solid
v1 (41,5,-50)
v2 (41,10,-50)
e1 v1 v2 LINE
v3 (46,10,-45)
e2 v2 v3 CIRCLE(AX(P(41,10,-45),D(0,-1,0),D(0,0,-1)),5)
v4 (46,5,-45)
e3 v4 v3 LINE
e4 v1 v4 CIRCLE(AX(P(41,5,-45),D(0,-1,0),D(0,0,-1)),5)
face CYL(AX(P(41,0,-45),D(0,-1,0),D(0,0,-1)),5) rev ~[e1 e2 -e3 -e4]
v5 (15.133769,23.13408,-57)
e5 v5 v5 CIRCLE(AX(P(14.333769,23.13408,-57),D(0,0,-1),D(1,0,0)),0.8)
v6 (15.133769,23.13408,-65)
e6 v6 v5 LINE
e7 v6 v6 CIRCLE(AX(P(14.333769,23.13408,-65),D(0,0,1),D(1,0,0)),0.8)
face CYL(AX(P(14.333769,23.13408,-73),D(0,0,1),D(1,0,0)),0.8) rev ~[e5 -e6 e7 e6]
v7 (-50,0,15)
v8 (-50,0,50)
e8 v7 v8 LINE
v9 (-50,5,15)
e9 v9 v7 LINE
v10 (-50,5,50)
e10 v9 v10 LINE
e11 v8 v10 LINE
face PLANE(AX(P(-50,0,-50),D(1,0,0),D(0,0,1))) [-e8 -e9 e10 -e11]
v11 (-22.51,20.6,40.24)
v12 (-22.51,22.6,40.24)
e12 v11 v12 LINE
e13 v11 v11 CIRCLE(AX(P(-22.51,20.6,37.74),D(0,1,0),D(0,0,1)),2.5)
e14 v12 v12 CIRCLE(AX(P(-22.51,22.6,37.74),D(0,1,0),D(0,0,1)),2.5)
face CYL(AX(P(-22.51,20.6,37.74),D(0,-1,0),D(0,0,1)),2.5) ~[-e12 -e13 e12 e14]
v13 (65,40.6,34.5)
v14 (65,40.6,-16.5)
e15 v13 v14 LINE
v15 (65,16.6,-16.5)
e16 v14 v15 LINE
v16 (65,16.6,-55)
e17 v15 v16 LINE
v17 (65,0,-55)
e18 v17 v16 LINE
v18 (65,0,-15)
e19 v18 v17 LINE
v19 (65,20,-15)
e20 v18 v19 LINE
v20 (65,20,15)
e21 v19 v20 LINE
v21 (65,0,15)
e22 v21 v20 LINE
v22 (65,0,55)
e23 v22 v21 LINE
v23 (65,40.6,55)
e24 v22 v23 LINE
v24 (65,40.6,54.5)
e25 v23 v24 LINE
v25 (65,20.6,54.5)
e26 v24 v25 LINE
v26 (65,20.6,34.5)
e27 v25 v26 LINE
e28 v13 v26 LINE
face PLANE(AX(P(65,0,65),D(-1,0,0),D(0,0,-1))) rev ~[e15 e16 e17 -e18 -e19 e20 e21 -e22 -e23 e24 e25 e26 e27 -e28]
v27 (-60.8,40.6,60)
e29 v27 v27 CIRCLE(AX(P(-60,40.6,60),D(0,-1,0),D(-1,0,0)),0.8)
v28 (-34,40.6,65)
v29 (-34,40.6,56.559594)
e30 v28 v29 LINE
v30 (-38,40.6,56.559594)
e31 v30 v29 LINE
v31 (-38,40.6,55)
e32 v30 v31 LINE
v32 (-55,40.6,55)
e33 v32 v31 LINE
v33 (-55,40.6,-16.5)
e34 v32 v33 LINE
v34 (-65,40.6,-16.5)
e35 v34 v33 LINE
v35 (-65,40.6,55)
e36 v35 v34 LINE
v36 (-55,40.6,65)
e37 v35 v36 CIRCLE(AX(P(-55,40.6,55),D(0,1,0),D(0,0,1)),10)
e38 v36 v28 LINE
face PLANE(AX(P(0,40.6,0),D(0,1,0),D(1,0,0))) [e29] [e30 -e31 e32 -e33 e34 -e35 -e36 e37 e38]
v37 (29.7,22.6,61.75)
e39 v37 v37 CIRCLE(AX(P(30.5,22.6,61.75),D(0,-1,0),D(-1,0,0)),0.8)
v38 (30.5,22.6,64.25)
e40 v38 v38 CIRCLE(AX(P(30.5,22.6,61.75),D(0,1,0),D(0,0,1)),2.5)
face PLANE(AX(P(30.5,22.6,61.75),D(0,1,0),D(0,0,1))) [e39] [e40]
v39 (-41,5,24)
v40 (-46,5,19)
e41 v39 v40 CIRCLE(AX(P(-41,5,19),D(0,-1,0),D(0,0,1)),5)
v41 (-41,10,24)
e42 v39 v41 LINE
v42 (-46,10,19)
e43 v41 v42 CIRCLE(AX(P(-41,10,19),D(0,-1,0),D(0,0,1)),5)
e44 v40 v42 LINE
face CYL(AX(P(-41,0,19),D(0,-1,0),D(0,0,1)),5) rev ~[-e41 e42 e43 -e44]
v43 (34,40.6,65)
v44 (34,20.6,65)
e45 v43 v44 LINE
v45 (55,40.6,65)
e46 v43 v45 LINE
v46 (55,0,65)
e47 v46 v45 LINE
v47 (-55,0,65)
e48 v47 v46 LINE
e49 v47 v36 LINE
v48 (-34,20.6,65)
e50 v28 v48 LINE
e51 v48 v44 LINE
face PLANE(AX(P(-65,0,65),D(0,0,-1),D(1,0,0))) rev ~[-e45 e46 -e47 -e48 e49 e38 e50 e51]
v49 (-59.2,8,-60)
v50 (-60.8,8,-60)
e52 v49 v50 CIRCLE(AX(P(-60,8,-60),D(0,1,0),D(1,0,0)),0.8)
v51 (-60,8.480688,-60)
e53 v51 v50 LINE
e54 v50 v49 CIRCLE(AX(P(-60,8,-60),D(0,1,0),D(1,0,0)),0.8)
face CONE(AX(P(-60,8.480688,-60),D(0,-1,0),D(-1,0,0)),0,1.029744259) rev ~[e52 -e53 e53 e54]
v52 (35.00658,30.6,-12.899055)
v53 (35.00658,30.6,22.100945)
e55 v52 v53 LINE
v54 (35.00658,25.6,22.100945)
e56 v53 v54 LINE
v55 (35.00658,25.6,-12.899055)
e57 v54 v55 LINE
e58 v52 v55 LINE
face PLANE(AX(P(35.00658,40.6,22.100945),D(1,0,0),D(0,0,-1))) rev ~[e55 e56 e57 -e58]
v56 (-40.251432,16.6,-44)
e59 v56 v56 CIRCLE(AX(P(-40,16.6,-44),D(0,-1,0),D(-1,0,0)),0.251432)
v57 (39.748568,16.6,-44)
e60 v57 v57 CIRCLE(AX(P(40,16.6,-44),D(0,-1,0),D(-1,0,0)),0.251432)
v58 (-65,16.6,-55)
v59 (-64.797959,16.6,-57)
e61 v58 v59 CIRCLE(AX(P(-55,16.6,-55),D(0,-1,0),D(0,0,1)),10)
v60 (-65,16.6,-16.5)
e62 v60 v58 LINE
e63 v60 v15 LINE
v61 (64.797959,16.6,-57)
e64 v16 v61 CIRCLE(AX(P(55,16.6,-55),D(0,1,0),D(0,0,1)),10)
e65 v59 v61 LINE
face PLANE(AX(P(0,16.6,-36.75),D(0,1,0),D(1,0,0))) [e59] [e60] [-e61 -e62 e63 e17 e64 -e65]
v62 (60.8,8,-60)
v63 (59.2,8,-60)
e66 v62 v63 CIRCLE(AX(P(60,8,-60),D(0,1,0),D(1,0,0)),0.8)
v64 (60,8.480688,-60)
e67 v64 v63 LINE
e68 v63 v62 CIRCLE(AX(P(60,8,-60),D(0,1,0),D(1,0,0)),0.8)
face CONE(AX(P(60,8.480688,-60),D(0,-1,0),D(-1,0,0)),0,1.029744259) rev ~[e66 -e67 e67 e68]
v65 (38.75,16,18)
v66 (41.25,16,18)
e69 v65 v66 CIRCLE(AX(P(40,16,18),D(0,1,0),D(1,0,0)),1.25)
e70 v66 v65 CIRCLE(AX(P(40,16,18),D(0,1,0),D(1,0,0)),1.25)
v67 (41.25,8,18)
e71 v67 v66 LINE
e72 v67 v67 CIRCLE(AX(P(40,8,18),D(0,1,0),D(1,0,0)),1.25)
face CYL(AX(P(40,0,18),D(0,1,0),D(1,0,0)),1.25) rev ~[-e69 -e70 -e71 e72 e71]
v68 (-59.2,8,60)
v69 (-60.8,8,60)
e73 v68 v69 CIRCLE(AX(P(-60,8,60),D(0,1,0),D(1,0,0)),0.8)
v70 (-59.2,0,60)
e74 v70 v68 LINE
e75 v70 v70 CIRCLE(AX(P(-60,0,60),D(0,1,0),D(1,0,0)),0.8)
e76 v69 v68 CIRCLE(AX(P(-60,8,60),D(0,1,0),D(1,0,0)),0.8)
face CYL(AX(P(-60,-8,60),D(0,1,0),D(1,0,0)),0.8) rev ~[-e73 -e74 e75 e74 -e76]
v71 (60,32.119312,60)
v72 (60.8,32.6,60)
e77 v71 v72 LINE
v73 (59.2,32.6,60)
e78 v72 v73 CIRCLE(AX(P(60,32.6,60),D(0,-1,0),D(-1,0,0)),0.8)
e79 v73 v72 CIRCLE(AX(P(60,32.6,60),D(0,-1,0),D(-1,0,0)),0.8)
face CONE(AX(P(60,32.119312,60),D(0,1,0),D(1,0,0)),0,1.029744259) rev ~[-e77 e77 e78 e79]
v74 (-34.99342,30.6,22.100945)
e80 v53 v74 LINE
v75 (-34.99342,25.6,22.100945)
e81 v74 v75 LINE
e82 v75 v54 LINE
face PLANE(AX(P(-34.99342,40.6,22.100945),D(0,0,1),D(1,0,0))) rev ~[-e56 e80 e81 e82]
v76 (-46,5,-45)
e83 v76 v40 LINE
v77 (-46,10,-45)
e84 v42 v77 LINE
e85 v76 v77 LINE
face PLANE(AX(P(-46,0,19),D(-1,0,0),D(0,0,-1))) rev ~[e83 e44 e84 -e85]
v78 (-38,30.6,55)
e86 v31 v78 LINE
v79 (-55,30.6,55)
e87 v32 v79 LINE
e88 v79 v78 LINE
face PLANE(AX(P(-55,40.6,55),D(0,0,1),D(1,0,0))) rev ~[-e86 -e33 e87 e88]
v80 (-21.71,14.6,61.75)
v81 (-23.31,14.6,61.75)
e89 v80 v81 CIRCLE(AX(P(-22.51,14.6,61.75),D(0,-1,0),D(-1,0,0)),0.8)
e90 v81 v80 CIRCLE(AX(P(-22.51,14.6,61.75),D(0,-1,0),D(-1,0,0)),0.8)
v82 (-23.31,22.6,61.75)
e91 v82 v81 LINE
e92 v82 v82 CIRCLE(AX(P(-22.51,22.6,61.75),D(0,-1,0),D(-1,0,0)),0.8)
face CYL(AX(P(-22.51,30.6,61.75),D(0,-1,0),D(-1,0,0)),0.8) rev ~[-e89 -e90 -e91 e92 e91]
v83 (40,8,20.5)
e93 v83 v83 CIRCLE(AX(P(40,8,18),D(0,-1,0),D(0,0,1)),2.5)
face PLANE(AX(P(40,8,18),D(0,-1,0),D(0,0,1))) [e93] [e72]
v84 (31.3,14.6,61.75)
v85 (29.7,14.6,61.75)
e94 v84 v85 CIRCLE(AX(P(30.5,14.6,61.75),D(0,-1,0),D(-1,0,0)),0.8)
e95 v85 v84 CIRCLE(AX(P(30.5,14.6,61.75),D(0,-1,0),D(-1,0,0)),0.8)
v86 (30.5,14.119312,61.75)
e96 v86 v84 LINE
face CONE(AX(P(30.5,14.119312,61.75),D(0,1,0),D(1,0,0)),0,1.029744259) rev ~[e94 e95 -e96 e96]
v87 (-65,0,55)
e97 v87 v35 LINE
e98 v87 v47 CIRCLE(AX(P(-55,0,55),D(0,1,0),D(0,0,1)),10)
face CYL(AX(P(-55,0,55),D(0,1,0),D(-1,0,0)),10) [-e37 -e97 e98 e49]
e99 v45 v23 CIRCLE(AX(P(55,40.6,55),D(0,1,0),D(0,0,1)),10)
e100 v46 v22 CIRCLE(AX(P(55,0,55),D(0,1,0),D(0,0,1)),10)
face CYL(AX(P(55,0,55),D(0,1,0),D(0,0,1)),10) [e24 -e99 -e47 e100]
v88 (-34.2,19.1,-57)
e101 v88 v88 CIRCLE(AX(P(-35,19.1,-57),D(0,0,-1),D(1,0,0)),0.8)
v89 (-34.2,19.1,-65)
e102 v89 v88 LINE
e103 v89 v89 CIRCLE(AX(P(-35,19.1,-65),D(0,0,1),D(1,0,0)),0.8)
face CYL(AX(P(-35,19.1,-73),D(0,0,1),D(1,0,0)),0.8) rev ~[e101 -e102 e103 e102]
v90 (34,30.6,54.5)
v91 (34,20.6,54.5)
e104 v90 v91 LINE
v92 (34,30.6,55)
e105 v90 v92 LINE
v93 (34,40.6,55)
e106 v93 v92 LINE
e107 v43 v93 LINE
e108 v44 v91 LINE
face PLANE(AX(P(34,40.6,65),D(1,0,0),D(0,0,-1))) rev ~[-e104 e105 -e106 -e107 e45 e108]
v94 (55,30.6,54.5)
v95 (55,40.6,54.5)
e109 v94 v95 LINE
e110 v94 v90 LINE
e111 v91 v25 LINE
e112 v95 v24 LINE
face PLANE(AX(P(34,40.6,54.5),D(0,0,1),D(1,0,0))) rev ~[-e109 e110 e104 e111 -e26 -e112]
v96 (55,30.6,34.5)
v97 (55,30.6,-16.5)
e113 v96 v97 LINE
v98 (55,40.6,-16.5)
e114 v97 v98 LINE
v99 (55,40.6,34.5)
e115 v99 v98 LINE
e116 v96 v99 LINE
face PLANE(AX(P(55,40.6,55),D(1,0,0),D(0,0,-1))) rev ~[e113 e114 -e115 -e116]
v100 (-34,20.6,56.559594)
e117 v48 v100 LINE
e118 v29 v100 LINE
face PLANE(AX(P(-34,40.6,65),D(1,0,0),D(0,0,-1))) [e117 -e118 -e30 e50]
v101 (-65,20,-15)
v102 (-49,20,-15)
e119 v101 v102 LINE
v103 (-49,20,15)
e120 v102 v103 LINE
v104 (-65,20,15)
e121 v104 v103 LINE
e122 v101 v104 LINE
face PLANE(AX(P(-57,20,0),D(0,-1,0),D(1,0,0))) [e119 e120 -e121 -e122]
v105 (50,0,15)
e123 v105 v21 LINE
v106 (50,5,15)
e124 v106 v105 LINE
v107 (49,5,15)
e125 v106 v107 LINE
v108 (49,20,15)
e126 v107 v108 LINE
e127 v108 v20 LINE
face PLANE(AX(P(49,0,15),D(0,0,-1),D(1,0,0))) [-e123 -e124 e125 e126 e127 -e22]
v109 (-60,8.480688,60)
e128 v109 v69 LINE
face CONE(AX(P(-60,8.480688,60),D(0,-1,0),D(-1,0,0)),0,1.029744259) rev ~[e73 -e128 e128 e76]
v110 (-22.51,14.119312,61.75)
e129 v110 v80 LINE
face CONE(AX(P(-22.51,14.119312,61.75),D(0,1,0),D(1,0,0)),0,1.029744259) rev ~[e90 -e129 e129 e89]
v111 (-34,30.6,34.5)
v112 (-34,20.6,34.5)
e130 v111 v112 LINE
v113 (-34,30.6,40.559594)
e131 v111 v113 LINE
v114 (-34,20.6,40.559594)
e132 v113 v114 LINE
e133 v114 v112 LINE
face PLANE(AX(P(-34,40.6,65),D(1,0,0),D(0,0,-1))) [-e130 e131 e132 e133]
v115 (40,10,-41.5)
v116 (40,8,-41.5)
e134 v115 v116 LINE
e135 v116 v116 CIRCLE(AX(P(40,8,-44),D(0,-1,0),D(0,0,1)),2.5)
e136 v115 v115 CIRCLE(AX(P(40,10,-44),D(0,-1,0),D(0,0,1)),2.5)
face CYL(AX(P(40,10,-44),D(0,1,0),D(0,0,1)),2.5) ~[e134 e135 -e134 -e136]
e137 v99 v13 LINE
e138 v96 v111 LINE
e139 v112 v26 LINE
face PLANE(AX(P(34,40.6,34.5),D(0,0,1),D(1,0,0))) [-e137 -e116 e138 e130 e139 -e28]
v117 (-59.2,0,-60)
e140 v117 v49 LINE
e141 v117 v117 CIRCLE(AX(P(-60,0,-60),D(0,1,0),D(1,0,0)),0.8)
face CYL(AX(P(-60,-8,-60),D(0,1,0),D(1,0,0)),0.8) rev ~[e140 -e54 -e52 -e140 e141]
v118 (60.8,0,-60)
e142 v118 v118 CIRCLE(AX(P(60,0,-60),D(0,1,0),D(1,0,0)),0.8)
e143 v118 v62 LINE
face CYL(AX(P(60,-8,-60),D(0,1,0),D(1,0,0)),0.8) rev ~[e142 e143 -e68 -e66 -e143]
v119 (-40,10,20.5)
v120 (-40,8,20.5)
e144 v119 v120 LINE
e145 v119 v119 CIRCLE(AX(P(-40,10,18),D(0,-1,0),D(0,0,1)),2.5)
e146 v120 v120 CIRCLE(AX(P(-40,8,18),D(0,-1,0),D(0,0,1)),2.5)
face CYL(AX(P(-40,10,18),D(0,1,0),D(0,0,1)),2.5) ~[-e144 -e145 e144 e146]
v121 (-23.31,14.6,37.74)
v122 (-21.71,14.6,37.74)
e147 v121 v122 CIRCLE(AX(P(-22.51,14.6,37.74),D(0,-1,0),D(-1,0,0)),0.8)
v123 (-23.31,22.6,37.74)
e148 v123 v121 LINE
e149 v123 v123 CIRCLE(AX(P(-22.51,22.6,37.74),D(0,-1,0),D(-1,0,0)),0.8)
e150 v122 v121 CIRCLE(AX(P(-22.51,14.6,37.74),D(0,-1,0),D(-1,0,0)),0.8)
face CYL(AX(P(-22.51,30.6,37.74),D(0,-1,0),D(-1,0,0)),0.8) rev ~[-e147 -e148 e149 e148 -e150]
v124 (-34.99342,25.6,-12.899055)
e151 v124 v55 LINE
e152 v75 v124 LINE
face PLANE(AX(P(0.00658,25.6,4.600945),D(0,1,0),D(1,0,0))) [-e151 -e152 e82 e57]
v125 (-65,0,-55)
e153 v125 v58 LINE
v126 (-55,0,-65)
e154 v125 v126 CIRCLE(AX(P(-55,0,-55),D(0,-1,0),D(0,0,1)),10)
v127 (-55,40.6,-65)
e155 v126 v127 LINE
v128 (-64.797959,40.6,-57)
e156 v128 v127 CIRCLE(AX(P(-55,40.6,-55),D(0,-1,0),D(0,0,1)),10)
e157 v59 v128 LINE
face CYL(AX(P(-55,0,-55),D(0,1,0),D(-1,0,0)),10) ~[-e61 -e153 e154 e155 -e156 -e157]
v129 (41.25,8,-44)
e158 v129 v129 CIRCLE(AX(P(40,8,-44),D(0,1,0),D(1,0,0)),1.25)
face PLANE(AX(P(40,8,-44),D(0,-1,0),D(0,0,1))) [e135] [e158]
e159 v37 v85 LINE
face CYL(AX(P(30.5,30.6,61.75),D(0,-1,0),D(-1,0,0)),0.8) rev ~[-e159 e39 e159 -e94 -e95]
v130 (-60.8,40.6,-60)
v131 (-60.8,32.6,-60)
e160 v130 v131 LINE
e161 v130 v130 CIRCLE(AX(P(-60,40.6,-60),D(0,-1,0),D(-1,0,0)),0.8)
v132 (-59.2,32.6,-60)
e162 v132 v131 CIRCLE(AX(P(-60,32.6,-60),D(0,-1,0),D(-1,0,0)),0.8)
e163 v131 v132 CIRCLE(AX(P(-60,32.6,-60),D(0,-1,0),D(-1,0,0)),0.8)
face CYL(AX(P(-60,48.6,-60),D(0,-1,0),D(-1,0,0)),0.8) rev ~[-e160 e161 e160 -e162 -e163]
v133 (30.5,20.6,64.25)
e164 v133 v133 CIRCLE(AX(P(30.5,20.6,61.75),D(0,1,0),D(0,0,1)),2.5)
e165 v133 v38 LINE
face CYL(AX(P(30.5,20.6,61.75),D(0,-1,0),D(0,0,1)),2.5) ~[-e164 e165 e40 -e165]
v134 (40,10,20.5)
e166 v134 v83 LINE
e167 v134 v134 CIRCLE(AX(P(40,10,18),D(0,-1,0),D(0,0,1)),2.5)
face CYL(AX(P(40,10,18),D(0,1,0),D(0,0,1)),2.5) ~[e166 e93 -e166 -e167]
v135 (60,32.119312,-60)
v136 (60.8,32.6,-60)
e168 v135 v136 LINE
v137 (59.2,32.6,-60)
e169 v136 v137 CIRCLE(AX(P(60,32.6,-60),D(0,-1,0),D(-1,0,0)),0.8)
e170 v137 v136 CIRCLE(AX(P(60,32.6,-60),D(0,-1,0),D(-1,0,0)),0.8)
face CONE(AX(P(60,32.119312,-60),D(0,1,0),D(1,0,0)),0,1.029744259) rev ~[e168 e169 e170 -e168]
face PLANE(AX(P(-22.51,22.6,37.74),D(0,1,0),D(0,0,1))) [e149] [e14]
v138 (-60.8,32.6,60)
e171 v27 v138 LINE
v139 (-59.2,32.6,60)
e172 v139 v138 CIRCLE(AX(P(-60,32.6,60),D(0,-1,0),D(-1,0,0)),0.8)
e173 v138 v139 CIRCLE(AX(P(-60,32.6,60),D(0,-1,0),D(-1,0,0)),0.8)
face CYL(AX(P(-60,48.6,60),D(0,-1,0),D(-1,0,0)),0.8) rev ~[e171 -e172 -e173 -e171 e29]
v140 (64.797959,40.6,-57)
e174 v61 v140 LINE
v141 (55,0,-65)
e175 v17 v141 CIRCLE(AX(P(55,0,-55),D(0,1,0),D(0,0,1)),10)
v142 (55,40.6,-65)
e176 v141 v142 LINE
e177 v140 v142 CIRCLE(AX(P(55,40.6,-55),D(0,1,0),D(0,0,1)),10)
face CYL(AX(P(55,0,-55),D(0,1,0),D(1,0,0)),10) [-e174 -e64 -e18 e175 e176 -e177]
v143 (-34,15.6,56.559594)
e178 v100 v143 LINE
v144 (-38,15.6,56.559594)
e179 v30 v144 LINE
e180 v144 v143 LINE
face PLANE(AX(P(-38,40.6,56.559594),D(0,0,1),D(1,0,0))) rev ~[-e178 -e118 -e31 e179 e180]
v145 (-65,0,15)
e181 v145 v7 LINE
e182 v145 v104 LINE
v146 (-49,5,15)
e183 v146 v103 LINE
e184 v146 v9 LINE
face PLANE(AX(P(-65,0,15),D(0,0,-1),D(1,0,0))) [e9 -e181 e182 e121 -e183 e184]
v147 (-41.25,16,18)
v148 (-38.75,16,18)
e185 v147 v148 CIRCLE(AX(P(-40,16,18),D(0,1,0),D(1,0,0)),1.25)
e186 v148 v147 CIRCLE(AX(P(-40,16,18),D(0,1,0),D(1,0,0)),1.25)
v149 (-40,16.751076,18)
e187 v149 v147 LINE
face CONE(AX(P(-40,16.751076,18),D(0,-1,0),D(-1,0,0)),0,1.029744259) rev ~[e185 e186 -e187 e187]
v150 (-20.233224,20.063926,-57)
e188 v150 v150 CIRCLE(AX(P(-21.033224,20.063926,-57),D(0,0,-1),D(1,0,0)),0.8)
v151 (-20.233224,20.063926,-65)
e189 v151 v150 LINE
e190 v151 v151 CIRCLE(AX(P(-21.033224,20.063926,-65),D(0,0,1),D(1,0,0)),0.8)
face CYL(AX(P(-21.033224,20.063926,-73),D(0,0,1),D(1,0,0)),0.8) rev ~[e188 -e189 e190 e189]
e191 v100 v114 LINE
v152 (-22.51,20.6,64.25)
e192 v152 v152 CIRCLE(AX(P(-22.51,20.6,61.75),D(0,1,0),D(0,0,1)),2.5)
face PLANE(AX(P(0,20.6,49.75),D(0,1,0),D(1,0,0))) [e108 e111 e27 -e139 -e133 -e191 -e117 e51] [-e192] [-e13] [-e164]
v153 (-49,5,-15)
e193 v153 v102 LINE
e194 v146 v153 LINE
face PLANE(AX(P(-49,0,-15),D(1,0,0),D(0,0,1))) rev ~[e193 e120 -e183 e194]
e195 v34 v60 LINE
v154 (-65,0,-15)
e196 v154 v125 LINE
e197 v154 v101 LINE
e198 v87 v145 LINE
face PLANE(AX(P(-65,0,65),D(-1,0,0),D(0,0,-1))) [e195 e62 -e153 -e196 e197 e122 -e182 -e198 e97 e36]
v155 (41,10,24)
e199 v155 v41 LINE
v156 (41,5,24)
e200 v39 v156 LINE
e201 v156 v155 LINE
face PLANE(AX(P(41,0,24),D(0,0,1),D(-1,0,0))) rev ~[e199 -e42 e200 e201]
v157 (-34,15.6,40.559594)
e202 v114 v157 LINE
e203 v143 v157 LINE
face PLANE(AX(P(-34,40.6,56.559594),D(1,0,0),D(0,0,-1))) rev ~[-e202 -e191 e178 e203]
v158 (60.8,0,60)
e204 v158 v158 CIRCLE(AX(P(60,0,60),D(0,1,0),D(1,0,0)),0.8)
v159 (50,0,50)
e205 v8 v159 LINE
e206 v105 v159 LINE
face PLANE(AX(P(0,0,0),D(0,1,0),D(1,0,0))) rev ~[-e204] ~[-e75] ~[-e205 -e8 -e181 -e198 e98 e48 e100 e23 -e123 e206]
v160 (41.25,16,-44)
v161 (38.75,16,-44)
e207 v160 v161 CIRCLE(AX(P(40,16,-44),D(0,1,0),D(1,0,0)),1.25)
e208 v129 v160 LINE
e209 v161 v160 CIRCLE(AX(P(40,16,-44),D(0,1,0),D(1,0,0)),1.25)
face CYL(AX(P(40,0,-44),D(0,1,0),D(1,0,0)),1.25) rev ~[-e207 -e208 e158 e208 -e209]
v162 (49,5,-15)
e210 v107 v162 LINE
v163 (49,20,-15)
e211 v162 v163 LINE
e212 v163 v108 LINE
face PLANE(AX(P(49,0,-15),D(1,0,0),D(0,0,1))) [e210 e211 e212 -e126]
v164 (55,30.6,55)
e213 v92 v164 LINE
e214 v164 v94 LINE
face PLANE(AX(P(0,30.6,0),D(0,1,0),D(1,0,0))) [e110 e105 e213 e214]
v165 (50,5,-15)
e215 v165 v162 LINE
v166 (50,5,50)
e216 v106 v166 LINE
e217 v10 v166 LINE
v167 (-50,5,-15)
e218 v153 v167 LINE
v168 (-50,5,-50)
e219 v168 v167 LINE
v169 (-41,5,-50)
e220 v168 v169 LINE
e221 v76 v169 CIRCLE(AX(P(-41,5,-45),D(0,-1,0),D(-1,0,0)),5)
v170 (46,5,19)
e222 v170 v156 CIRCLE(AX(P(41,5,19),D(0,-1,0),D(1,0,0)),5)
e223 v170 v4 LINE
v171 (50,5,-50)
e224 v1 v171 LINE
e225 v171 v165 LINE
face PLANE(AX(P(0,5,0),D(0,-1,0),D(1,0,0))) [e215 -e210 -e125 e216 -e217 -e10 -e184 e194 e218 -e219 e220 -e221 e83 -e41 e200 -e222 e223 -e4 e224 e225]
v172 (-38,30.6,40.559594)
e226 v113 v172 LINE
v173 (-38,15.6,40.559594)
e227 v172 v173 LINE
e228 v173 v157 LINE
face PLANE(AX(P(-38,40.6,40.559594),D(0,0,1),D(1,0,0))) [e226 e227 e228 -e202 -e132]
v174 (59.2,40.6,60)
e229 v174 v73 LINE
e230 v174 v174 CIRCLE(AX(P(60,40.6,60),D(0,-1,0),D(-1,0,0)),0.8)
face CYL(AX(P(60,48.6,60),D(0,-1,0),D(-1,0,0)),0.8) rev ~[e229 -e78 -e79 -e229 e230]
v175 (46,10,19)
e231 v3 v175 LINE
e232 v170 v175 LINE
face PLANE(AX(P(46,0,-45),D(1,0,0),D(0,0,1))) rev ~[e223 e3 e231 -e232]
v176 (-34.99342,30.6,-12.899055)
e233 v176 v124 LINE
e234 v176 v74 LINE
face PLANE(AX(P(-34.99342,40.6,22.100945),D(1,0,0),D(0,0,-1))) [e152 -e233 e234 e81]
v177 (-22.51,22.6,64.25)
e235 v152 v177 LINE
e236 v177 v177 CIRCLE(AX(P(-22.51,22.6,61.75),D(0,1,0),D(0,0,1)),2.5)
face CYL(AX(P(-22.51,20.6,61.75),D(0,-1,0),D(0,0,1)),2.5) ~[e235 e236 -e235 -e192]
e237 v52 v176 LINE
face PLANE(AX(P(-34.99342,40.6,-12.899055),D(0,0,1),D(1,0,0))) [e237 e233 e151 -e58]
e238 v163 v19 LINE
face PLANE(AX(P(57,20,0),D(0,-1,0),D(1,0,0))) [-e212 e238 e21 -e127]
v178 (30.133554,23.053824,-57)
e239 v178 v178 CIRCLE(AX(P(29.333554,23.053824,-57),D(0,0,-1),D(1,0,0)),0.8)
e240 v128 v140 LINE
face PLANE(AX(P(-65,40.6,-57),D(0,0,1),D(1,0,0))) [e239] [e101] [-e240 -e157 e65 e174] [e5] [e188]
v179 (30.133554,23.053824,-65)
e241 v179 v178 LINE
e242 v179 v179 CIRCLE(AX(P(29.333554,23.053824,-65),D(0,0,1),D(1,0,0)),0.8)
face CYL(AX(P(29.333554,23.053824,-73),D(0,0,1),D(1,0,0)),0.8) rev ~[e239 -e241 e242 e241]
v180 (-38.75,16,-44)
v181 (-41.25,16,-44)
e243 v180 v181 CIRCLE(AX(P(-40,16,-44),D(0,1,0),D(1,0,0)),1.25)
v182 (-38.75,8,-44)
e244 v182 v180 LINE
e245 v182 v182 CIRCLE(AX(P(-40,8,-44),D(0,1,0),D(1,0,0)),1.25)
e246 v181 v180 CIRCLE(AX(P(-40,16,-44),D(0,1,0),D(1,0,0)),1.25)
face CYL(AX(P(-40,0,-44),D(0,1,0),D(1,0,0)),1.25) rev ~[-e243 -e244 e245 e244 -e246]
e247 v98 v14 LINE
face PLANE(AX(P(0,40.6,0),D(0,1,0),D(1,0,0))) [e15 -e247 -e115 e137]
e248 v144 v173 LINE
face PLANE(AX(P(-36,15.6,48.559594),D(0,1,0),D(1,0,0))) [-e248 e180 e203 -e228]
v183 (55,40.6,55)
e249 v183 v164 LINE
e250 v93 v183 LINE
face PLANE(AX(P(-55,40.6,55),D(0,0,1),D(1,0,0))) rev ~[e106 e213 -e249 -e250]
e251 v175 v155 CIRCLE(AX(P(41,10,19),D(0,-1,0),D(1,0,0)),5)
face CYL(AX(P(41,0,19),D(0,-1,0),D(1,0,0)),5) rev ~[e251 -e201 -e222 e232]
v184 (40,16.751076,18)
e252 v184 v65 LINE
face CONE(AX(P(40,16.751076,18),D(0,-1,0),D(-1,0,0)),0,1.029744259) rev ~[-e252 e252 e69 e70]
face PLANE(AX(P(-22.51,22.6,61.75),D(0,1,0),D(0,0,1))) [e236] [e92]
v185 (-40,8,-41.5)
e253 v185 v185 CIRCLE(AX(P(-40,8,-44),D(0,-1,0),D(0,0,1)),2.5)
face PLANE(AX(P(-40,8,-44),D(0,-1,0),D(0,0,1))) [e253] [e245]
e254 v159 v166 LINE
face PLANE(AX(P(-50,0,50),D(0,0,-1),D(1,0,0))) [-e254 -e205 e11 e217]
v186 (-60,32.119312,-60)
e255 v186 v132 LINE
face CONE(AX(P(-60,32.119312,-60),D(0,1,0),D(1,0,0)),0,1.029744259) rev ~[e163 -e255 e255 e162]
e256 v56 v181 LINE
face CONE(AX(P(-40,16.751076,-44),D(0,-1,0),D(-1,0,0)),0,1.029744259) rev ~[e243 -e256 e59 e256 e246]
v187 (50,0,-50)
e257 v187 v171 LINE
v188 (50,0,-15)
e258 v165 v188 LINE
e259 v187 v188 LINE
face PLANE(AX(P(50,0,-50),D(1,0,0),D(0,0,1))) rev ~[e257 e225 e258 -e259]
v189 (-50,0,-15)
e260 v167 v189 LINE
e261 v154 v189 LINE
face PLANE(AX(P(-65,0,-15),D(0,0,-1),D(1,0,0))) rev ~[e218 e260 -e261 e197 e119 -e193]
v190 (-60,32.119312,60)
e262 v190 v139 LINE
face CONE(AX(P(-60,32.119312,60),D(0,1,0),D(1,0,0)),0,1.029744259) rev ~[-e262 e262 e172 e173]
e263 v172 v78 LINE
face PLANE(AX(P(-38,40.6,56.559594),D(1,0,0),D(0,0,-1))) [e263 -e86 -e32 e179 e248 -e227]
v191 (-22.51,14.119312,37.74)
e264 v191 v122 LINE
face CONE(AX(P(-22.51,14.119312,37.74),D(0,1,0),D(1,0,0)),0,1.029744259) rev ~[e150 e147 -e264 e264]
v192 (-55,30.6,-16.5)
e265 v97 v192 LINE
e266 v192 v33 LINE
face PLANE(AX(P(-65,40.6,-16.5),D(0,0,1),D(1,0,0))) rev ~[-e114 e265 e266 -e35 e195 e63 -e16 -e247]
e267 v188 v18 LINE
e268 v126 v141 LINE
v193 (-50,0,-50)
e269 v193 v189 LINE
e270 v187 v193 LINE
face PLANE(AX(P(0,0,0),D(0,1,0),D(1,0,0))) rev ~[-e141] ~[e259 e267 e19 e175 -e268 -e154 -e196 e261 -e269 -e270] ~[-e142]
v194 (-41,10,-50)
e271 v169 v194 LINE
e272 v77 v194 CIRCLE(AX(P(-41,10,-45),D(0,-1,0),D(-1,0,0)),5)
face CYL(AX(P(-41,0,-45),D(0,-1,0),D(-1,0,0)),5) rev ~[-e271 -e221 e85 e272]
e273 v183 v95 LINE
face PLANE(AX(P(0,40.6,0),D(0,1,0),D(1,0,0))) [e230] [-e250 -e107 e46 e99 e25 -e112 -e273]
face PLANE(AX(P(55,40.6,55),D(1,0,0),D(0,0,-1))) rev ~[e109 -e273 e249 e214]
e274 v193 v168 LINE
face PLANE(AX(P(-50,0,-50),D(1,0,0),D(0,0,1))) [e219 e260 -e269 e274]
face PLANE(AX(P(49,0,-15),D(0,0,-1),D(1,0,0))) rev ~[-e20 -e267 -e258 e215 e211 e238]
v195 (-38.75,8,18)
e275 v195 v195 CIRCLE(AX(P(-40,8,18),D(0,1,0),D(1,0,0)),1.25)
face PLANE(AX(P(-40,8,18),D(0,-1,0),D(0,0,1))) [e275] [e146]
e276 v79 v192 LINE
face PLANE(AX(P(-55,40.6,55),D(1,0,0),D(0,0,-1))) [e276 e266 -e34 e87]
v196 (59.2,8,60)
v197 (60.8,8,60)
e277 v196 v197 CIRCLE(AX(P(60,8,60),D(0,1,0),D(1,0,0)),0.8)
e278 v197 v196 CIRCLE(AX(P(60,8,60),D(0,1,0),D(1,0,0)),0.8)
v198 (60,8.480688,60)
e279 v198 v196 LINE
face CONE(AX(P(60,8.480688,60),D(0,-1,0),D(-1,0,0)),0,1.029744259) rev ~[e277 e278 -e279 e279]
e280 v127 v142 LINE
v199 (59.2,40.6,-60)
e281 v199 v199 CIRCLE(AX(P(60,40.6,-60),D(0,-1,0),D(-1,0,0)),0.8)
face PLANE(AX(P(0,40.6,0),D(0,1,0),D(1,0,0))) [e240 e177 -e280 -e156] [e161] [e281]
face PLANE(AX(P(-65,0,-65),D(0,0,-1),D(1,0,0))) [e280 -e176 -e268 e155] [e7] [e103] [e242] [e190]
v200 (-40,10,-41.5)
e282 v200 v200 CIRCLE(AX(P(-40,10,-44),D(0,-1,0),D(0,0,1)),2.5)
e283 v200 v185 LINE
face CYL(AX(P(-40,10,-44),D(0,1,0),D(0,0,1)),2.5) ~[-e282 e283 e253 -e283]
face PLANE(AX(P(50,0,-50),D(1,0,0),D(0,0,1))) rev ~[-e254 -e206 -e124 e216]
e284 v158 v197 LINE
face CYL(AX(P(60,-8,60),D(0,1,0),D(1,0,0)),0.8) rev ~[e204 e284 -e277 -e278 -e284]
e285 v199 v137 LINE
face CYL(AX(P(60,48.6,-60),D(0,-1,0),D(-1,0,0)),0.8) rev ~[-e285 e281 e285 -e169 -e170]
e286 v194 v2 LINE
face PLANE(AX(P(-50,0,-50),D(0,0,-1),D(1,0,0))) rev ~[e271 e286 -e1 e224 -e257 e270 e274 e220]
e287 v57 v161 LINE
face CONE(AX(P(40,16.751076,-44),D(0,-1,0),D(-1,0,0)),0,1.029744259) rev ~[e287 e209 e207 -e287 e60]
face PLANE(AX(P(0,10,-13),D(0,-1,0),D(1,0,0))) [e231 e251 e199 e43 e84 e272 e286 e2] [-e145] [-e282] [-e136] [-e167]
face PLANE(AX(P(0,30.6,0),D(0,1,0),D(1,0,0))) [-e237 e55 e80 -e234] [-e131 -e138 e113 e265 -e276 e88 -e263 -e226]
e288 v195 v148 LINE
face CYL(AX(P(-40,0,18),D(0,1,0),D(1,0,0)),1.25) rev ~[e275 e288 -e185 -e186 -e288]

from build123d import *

# Parameters (mm, degrees)
SKETCH_1_W             = 130
SKETCH_1_H             = 130
EXTRUDE_1_DEPTH        = 40.6
SKETCH_2_W             = 130
SKETCH_2_H             = 40.5
CUT_EXTRUDE_1_DEPTH    = 24
SKETCH_7_W             = 16
SKETCH_7_H             = 30
CUT_EXTRUDE_5_DEPTH    = 20
CUT_EXTRUDE_8_DEPTH    = 10
HOLE_WIZARD_M2_1_D     = 1.6
HOLE_WIZARD_M2_1_DEPTH = 8
HOLE_WIZARD_M2_1_TIP   = 0.480688495
SKETCH_15_W            = 100
SKETCH_15_H            = 100
CUT_EXTRUDE_9_DEPTH    = 5
FILLET_1_R             = 10
HOLE_WIZARD_M2_3_D     = 1.6
HOLE_WIZARD_M2_3_DEPTH = 8
HOLE_WIZARD_M2_3_TIP   = 0.480688495
SKETCH_24_W            = 68
SKETCH_24_H            = 30.5
CUT_EXTRUDE_10_DEPTH   = 20
SKETCH_25_W            = 4
SKETCH_25_H            = 16
CUT_EXTRUDE_11_DEPTH   = 25
SKETCH_26_W            = 31
SKETCH_26_H            = 20
CUT_EXTRUDE_12_DEPTH   = 20
SKETCH_27_R            = 2.5
EXTRUDE_2_DEPTH        = 2
SKETCH_28_W            = 70
SKETCH_28_H            = 35
CUT_EXTRUDE_13_DEPTH   = 15
SKETCH_29_W            = 110
SKETCH_29_H            = 110
CUT_EXTRUDE_14_DEPTH   = 10
SKETCH_30_R            = 2.5
EXTRUDE_4_DEPTH        = 2
HOLE_WIZARD_M2_4_D     = 1.6
HOLE_WIZARD_M2_4_DEPTH = 8
HOLE_WIZARD_M2_4_TIP   = 0.480688495
HOLE_WIZARD_M3_1_D     = 2.5
HOLE_WIZARD_M3_1_DEPTH = 8
HOLE_WIZARD_M3_1_TIP   = 0.751075774
HOLE_WIZARD_M2_7_D     = 1.6
HOLE_WIZARD_M2_7_DEPTH = 8
HOLE_WIZARD_M2_7_TIP   = 0.480688495


with BuildPart() as part:
    # 草图1 → 凸台-拉伸1 (new body)
    with BuildSketch(Plane(origin=(0, 0, 0), x_dir=(1, 0, 0), z_dir=(0, 1, 0))):
        Rectangle(SKETCH_1_W, SKETCH_1_H)
    extrude(amount=EXTRUDE_1_DEPTH)

    # 草图2 → 切除-拉伸1 (cut)
    with BuildSketch(Plane(origin=(0, 40.6, 0), x_dir=(1, 0, 0), z_dir=(0, 1, 0))):
        with Locations((0, 36.75)):
            Rectangle(SKETCH_2_W, SKETCH_2_H)
    extrude(amount=-CUT_EXTRUDE_1_DEPTH, mode=Mode.SUBTRACT)

    # 草图7 → 切除-拉伸5 (cut)
    with BuildSketch(Plane.XZ):
        with Locations((57, 0)):
            Rectangle(SKETCH_7_W, SKETCH_7_H)
        with Locations((-57, 0)):
            Rectangle(SKETCH_7_W, SKETCH_7_H)
    extrude(amount=-CUT_EXTRUDE_5_DEPTH, mode=Mode.SUBTRACT)

    # 草图10 → 切除-拉伸8 (cut)
    with BuildSketch(Plane.XZ):
        with BuildLine():
            Line((-41, -50), (41, -50))
            ThreePointArc((41, -50), (44.535533906, -48.535533906), (46, -45))
            Line((46, -45), (46, 19))
            ThreePointArc((46, 19), (44.535533906, 22.535533906), (41, 24))
            Line((41, 24), (-41, 24))
            ThreePointArc((-41, 24), (-44.535533906, 22.535533906), (-46, 19))
            Line((-46, 19), (-46, -45))
            ThreePointArc((-46, -45), (-44.535533906, -48.535533906), (-41, -50))
        make_face()
    extrude(amount=-CUT_EXTRUDE_8_DEPTH, mode=Mode.SUBTRACT)

    # M2 螺纹孔的螺纹孔钻头1
    with Locations(Plane(origin=(0, 0, 0), x_dir=(-1, 0, 0), z_dir=(0, -1, 0))):
        with Locations((60, -60), (-60, -60), (60, 60), (-60, 60)):
            Hole(HOLE_WIZARD_M2_1_D / 2, depth=HOLE_WIZARD_M2_1_DEPTH)
            with Locations((0, 0, -(HOLE_WIZARD_M2_1_DEPTH + HOLE_WIZARD_M2_1_TIP / 2))):  # 118° drill point
                Cone(0, HOLE_WIZARD_M2_1_D / 2, HOLE_WIZARD_M2_1_TIP, mode=Mode.SUBTRACT)

    # 草图15 → 切除-拉伸9 (cut)
    with BuildSketch(Plane.XZ):
        Rectangle(SKETCH_15_W, SKETCH_15_H)
    extrude(amount=-CUT_EXTRUDE_9_DEPTH, mode=Mode.SUBTRACT)

    # 圆角1
    fillet_1_edges = [part.edges().sort_by_distance(p)[0] for p in [
        (65, 20.3, 65),
        (-65, 20.3, 65),
        (-65, 20.3, -65),
        (65, 20.3, -65),
    ]]
    fillet(fillet_1_edges, radius=FILLET_1_R)

    # M2 螺纹孔的螺纹孔钻头3
    with Locations(Plane(origin=(0, 40.6, 0), x_dir=(1, 0, 0), z_dir=(0, 1, 0))):
        with Locations((-60, 60), (60, 60), (60, -60), (-60, -60)):
            Hole(HOLE_WIZARD_M2_3_D / 2, depth=HOLE_WIZARD_M2_3_DEPTH)
            with Locations((0, 0, -(HOLE_WIZARD_M2_3_DEPTH + HOLE_WIZARD_M2_3_TIP / 2))):  # 118° drill point
                Cone(0, HOLE_WIZARD_M2_3_D / 2, HOLE_WIZARD_M2_3_TIP, mode=Mode.SUBTRACT)

    # 草图24 → 切除-拉伸10 (cut)
    with BuildSketch(Plane(origin=(0, 40.6, 0), x_dir=(1, 0, 0), z_dir=(0, 1, 0))):
        with Locations((0, -49.75)):
            Rectangle(SKETCH_24_W, SKETCH_24_H)
    extrude(amount=-CUT_EXTRUDE_10_DEPTH, mode=Mode.SUBTRACT)

    # 草图25 → 切除-拉伸11 (cut)
    with BuildSketch(Plane(origin=(0, 40.6, 0), x_dir=(1, 0, 0), z_dir=(0, 1, 0))):
        with Locations((-36, -48.559593505)):
            Rectangle(SKETCH_25_W, SKETCH_25_H)
    extrude(amount=-CUT_EXTRUDE_11_DEPTH, mode=Mode.SUBTRACT)

    # 草图26 → 切除-拉伸12 (cut)
    with BuildSketch(Plane(origin=(0, 40.6, 0), x_dir=(1, 0, 0), z_dir=(0, 1, 0))):
        with Locations((49.5, -44.5)):
            Rectangle(SKETCH_26_W, SKETCH_26_H)
    extrude(amount=-CUT_EXTRUDE_12_DEPTH, mode=Mode.SUBTRACT)

    # 草图27 → 凸台-拉伸2 (add)
    with BuildSketch(Plane(origin=(0, 20.6, 0), x_dir=(1, 0, 0), z_dir=(0, 1, 0))):
        with Locations(Location((30.5, -61.75, 0), (0, 0, 270))):
            Circle(SKETCH_27_R)
        with Locations(Location((-22.51, -61.75, 0), (0, 0, 270))):
            Circle(SKETCH_27_R)
        with Locations(Location((-22.51, -37.74, 0), (0, 0, 270))):
            Circle(SKETCH_27_R)
    extrude(amount=EXTRUDE_2_DEPTH)

    # 草图28 → 切除-拉伸13 (cut)
    with BuildSketch(Plane(origin=(0, 40.6, 0), x_dir=(1, 0, 0), z_dir=(0, 1, 0))):
        with Locations((0.006580057, -4.600945461)):
            Rectangle(SKETCH_28_W, SKETCH_28_H)
    extrude(amount=-CUT_EXTRUDE_13_DEPTH, mode=Mode.SUBTRACT)

    # 草图29 → 切除-拉伸14 (cut)
    with BuildSketch(Plane(origin=(0, 40.6, 0), x_dir=(1, 0, 0), z_dir=(0, 1, 0))):
        Rectangle(SKETCH_29_W, SKETCH_29_H)
    extrude(amount=-CUT_EXTRUDE_14_DEPTH, mode=Mode.SUBTRACT)

    # 草图30 → 凸台-拉伸4 (add)
    with BuildSketch(Plane.XZ.offset(-10)):
        with Locations(Location((40, 18, 0), (0, 0, 90))):
            Circle(SKETCH_30_R)
        with Locations(Location((40, -44, 0), (0, 0, 90))):
            Circle(SKETCH_30_R)
        with Locations(Location((-40, -44, 0), (0, 0, 90))):
            Circle(SKETCH_30_R)
        with Locations(Location((-40, 18, 0), (0, 0, 90))):
            Circle(SKETCH_30_R)
    extrude(amount=EXTRUDE_4_DEPTH)

    # M2 螺纹孔的螺纹孔钻头4
    with Locations(Plane(origin=(0, 0, -65), x_dir=(-1, 0, 0), z_dir=(0, 0, -1))):
        with Locations((-29.333554251, 23.053823954), (-14.333768955, 23.134080314), (21.033223503, 20.063926498), (35, 19.1)):
            Hole(HOLE_WIZARD_M2_4_D / 2, depth=HOLE_WIZARD_M2_4_DEPTH)
            with Locations((0, 0, -(HOLE_WIZARD_M2_4_DEPTH + HOLE_WIZARD_M2_4_TIP / 2))):  # 118° drill point
                Cone(0, HOLE_WIZARD_M2_4_D / 2, HOLE_WIZARD_M2_4_TIP, mode=Mode.SUBTRACT)

    # M3 螺纹孔的螺纹孔钻头1
    with Locations(Plane(origin=(0, 8, 0), x_dir=(-1, 0, 0), z_dir=(0, -1, 0))):
        with Locations((40, -18), (-40, -18), (40, 44), (-40, 44)):
            Hole(HOLE_WIZARD_M3_1_D / 2, depth=HOLE_WIZARD_M3_1_DEPTH)
            with Locations((0, 0, -(HOLE_WIZARD_M3_1_DEPTH + HOLE_WIZARD_M3_1_TIP / 2))):  # 118° drill point
                Cone(0, HOLE_WIZARD_M3_1_D / 2, HOLE_WIZARD_M3_1_TIP, mode=Mode.SUBTRACT)

    # M2 螺纹孔的螺纹孔钻头7
    with Locations(Plane(origin=(0, 22.6, 0), x_dir=(1, 0, 0), z_dir=(0, 1, 0))):
        with Locations((-22.51, -37.74), (-22.51, -61.75), (30.5, -61.75)):
            Hole(HOLE_WIZARD_M2_7_D / 2, depth=HOLE_WIZARD_M2_7_DEPTH)
            with Locations((0, 0, -(HOLE_WIZARD_M2_7_DEPTH + HOLE_WIZARD_M2_7_TIP / 2))):  # 118° drill point
                Cone(0, HOLE_WIZARD_M2_7_D / 2, HOLE_WIZARD_M2_7_TIP, mode=Mode.SUBTRACT)


solid = part.part
